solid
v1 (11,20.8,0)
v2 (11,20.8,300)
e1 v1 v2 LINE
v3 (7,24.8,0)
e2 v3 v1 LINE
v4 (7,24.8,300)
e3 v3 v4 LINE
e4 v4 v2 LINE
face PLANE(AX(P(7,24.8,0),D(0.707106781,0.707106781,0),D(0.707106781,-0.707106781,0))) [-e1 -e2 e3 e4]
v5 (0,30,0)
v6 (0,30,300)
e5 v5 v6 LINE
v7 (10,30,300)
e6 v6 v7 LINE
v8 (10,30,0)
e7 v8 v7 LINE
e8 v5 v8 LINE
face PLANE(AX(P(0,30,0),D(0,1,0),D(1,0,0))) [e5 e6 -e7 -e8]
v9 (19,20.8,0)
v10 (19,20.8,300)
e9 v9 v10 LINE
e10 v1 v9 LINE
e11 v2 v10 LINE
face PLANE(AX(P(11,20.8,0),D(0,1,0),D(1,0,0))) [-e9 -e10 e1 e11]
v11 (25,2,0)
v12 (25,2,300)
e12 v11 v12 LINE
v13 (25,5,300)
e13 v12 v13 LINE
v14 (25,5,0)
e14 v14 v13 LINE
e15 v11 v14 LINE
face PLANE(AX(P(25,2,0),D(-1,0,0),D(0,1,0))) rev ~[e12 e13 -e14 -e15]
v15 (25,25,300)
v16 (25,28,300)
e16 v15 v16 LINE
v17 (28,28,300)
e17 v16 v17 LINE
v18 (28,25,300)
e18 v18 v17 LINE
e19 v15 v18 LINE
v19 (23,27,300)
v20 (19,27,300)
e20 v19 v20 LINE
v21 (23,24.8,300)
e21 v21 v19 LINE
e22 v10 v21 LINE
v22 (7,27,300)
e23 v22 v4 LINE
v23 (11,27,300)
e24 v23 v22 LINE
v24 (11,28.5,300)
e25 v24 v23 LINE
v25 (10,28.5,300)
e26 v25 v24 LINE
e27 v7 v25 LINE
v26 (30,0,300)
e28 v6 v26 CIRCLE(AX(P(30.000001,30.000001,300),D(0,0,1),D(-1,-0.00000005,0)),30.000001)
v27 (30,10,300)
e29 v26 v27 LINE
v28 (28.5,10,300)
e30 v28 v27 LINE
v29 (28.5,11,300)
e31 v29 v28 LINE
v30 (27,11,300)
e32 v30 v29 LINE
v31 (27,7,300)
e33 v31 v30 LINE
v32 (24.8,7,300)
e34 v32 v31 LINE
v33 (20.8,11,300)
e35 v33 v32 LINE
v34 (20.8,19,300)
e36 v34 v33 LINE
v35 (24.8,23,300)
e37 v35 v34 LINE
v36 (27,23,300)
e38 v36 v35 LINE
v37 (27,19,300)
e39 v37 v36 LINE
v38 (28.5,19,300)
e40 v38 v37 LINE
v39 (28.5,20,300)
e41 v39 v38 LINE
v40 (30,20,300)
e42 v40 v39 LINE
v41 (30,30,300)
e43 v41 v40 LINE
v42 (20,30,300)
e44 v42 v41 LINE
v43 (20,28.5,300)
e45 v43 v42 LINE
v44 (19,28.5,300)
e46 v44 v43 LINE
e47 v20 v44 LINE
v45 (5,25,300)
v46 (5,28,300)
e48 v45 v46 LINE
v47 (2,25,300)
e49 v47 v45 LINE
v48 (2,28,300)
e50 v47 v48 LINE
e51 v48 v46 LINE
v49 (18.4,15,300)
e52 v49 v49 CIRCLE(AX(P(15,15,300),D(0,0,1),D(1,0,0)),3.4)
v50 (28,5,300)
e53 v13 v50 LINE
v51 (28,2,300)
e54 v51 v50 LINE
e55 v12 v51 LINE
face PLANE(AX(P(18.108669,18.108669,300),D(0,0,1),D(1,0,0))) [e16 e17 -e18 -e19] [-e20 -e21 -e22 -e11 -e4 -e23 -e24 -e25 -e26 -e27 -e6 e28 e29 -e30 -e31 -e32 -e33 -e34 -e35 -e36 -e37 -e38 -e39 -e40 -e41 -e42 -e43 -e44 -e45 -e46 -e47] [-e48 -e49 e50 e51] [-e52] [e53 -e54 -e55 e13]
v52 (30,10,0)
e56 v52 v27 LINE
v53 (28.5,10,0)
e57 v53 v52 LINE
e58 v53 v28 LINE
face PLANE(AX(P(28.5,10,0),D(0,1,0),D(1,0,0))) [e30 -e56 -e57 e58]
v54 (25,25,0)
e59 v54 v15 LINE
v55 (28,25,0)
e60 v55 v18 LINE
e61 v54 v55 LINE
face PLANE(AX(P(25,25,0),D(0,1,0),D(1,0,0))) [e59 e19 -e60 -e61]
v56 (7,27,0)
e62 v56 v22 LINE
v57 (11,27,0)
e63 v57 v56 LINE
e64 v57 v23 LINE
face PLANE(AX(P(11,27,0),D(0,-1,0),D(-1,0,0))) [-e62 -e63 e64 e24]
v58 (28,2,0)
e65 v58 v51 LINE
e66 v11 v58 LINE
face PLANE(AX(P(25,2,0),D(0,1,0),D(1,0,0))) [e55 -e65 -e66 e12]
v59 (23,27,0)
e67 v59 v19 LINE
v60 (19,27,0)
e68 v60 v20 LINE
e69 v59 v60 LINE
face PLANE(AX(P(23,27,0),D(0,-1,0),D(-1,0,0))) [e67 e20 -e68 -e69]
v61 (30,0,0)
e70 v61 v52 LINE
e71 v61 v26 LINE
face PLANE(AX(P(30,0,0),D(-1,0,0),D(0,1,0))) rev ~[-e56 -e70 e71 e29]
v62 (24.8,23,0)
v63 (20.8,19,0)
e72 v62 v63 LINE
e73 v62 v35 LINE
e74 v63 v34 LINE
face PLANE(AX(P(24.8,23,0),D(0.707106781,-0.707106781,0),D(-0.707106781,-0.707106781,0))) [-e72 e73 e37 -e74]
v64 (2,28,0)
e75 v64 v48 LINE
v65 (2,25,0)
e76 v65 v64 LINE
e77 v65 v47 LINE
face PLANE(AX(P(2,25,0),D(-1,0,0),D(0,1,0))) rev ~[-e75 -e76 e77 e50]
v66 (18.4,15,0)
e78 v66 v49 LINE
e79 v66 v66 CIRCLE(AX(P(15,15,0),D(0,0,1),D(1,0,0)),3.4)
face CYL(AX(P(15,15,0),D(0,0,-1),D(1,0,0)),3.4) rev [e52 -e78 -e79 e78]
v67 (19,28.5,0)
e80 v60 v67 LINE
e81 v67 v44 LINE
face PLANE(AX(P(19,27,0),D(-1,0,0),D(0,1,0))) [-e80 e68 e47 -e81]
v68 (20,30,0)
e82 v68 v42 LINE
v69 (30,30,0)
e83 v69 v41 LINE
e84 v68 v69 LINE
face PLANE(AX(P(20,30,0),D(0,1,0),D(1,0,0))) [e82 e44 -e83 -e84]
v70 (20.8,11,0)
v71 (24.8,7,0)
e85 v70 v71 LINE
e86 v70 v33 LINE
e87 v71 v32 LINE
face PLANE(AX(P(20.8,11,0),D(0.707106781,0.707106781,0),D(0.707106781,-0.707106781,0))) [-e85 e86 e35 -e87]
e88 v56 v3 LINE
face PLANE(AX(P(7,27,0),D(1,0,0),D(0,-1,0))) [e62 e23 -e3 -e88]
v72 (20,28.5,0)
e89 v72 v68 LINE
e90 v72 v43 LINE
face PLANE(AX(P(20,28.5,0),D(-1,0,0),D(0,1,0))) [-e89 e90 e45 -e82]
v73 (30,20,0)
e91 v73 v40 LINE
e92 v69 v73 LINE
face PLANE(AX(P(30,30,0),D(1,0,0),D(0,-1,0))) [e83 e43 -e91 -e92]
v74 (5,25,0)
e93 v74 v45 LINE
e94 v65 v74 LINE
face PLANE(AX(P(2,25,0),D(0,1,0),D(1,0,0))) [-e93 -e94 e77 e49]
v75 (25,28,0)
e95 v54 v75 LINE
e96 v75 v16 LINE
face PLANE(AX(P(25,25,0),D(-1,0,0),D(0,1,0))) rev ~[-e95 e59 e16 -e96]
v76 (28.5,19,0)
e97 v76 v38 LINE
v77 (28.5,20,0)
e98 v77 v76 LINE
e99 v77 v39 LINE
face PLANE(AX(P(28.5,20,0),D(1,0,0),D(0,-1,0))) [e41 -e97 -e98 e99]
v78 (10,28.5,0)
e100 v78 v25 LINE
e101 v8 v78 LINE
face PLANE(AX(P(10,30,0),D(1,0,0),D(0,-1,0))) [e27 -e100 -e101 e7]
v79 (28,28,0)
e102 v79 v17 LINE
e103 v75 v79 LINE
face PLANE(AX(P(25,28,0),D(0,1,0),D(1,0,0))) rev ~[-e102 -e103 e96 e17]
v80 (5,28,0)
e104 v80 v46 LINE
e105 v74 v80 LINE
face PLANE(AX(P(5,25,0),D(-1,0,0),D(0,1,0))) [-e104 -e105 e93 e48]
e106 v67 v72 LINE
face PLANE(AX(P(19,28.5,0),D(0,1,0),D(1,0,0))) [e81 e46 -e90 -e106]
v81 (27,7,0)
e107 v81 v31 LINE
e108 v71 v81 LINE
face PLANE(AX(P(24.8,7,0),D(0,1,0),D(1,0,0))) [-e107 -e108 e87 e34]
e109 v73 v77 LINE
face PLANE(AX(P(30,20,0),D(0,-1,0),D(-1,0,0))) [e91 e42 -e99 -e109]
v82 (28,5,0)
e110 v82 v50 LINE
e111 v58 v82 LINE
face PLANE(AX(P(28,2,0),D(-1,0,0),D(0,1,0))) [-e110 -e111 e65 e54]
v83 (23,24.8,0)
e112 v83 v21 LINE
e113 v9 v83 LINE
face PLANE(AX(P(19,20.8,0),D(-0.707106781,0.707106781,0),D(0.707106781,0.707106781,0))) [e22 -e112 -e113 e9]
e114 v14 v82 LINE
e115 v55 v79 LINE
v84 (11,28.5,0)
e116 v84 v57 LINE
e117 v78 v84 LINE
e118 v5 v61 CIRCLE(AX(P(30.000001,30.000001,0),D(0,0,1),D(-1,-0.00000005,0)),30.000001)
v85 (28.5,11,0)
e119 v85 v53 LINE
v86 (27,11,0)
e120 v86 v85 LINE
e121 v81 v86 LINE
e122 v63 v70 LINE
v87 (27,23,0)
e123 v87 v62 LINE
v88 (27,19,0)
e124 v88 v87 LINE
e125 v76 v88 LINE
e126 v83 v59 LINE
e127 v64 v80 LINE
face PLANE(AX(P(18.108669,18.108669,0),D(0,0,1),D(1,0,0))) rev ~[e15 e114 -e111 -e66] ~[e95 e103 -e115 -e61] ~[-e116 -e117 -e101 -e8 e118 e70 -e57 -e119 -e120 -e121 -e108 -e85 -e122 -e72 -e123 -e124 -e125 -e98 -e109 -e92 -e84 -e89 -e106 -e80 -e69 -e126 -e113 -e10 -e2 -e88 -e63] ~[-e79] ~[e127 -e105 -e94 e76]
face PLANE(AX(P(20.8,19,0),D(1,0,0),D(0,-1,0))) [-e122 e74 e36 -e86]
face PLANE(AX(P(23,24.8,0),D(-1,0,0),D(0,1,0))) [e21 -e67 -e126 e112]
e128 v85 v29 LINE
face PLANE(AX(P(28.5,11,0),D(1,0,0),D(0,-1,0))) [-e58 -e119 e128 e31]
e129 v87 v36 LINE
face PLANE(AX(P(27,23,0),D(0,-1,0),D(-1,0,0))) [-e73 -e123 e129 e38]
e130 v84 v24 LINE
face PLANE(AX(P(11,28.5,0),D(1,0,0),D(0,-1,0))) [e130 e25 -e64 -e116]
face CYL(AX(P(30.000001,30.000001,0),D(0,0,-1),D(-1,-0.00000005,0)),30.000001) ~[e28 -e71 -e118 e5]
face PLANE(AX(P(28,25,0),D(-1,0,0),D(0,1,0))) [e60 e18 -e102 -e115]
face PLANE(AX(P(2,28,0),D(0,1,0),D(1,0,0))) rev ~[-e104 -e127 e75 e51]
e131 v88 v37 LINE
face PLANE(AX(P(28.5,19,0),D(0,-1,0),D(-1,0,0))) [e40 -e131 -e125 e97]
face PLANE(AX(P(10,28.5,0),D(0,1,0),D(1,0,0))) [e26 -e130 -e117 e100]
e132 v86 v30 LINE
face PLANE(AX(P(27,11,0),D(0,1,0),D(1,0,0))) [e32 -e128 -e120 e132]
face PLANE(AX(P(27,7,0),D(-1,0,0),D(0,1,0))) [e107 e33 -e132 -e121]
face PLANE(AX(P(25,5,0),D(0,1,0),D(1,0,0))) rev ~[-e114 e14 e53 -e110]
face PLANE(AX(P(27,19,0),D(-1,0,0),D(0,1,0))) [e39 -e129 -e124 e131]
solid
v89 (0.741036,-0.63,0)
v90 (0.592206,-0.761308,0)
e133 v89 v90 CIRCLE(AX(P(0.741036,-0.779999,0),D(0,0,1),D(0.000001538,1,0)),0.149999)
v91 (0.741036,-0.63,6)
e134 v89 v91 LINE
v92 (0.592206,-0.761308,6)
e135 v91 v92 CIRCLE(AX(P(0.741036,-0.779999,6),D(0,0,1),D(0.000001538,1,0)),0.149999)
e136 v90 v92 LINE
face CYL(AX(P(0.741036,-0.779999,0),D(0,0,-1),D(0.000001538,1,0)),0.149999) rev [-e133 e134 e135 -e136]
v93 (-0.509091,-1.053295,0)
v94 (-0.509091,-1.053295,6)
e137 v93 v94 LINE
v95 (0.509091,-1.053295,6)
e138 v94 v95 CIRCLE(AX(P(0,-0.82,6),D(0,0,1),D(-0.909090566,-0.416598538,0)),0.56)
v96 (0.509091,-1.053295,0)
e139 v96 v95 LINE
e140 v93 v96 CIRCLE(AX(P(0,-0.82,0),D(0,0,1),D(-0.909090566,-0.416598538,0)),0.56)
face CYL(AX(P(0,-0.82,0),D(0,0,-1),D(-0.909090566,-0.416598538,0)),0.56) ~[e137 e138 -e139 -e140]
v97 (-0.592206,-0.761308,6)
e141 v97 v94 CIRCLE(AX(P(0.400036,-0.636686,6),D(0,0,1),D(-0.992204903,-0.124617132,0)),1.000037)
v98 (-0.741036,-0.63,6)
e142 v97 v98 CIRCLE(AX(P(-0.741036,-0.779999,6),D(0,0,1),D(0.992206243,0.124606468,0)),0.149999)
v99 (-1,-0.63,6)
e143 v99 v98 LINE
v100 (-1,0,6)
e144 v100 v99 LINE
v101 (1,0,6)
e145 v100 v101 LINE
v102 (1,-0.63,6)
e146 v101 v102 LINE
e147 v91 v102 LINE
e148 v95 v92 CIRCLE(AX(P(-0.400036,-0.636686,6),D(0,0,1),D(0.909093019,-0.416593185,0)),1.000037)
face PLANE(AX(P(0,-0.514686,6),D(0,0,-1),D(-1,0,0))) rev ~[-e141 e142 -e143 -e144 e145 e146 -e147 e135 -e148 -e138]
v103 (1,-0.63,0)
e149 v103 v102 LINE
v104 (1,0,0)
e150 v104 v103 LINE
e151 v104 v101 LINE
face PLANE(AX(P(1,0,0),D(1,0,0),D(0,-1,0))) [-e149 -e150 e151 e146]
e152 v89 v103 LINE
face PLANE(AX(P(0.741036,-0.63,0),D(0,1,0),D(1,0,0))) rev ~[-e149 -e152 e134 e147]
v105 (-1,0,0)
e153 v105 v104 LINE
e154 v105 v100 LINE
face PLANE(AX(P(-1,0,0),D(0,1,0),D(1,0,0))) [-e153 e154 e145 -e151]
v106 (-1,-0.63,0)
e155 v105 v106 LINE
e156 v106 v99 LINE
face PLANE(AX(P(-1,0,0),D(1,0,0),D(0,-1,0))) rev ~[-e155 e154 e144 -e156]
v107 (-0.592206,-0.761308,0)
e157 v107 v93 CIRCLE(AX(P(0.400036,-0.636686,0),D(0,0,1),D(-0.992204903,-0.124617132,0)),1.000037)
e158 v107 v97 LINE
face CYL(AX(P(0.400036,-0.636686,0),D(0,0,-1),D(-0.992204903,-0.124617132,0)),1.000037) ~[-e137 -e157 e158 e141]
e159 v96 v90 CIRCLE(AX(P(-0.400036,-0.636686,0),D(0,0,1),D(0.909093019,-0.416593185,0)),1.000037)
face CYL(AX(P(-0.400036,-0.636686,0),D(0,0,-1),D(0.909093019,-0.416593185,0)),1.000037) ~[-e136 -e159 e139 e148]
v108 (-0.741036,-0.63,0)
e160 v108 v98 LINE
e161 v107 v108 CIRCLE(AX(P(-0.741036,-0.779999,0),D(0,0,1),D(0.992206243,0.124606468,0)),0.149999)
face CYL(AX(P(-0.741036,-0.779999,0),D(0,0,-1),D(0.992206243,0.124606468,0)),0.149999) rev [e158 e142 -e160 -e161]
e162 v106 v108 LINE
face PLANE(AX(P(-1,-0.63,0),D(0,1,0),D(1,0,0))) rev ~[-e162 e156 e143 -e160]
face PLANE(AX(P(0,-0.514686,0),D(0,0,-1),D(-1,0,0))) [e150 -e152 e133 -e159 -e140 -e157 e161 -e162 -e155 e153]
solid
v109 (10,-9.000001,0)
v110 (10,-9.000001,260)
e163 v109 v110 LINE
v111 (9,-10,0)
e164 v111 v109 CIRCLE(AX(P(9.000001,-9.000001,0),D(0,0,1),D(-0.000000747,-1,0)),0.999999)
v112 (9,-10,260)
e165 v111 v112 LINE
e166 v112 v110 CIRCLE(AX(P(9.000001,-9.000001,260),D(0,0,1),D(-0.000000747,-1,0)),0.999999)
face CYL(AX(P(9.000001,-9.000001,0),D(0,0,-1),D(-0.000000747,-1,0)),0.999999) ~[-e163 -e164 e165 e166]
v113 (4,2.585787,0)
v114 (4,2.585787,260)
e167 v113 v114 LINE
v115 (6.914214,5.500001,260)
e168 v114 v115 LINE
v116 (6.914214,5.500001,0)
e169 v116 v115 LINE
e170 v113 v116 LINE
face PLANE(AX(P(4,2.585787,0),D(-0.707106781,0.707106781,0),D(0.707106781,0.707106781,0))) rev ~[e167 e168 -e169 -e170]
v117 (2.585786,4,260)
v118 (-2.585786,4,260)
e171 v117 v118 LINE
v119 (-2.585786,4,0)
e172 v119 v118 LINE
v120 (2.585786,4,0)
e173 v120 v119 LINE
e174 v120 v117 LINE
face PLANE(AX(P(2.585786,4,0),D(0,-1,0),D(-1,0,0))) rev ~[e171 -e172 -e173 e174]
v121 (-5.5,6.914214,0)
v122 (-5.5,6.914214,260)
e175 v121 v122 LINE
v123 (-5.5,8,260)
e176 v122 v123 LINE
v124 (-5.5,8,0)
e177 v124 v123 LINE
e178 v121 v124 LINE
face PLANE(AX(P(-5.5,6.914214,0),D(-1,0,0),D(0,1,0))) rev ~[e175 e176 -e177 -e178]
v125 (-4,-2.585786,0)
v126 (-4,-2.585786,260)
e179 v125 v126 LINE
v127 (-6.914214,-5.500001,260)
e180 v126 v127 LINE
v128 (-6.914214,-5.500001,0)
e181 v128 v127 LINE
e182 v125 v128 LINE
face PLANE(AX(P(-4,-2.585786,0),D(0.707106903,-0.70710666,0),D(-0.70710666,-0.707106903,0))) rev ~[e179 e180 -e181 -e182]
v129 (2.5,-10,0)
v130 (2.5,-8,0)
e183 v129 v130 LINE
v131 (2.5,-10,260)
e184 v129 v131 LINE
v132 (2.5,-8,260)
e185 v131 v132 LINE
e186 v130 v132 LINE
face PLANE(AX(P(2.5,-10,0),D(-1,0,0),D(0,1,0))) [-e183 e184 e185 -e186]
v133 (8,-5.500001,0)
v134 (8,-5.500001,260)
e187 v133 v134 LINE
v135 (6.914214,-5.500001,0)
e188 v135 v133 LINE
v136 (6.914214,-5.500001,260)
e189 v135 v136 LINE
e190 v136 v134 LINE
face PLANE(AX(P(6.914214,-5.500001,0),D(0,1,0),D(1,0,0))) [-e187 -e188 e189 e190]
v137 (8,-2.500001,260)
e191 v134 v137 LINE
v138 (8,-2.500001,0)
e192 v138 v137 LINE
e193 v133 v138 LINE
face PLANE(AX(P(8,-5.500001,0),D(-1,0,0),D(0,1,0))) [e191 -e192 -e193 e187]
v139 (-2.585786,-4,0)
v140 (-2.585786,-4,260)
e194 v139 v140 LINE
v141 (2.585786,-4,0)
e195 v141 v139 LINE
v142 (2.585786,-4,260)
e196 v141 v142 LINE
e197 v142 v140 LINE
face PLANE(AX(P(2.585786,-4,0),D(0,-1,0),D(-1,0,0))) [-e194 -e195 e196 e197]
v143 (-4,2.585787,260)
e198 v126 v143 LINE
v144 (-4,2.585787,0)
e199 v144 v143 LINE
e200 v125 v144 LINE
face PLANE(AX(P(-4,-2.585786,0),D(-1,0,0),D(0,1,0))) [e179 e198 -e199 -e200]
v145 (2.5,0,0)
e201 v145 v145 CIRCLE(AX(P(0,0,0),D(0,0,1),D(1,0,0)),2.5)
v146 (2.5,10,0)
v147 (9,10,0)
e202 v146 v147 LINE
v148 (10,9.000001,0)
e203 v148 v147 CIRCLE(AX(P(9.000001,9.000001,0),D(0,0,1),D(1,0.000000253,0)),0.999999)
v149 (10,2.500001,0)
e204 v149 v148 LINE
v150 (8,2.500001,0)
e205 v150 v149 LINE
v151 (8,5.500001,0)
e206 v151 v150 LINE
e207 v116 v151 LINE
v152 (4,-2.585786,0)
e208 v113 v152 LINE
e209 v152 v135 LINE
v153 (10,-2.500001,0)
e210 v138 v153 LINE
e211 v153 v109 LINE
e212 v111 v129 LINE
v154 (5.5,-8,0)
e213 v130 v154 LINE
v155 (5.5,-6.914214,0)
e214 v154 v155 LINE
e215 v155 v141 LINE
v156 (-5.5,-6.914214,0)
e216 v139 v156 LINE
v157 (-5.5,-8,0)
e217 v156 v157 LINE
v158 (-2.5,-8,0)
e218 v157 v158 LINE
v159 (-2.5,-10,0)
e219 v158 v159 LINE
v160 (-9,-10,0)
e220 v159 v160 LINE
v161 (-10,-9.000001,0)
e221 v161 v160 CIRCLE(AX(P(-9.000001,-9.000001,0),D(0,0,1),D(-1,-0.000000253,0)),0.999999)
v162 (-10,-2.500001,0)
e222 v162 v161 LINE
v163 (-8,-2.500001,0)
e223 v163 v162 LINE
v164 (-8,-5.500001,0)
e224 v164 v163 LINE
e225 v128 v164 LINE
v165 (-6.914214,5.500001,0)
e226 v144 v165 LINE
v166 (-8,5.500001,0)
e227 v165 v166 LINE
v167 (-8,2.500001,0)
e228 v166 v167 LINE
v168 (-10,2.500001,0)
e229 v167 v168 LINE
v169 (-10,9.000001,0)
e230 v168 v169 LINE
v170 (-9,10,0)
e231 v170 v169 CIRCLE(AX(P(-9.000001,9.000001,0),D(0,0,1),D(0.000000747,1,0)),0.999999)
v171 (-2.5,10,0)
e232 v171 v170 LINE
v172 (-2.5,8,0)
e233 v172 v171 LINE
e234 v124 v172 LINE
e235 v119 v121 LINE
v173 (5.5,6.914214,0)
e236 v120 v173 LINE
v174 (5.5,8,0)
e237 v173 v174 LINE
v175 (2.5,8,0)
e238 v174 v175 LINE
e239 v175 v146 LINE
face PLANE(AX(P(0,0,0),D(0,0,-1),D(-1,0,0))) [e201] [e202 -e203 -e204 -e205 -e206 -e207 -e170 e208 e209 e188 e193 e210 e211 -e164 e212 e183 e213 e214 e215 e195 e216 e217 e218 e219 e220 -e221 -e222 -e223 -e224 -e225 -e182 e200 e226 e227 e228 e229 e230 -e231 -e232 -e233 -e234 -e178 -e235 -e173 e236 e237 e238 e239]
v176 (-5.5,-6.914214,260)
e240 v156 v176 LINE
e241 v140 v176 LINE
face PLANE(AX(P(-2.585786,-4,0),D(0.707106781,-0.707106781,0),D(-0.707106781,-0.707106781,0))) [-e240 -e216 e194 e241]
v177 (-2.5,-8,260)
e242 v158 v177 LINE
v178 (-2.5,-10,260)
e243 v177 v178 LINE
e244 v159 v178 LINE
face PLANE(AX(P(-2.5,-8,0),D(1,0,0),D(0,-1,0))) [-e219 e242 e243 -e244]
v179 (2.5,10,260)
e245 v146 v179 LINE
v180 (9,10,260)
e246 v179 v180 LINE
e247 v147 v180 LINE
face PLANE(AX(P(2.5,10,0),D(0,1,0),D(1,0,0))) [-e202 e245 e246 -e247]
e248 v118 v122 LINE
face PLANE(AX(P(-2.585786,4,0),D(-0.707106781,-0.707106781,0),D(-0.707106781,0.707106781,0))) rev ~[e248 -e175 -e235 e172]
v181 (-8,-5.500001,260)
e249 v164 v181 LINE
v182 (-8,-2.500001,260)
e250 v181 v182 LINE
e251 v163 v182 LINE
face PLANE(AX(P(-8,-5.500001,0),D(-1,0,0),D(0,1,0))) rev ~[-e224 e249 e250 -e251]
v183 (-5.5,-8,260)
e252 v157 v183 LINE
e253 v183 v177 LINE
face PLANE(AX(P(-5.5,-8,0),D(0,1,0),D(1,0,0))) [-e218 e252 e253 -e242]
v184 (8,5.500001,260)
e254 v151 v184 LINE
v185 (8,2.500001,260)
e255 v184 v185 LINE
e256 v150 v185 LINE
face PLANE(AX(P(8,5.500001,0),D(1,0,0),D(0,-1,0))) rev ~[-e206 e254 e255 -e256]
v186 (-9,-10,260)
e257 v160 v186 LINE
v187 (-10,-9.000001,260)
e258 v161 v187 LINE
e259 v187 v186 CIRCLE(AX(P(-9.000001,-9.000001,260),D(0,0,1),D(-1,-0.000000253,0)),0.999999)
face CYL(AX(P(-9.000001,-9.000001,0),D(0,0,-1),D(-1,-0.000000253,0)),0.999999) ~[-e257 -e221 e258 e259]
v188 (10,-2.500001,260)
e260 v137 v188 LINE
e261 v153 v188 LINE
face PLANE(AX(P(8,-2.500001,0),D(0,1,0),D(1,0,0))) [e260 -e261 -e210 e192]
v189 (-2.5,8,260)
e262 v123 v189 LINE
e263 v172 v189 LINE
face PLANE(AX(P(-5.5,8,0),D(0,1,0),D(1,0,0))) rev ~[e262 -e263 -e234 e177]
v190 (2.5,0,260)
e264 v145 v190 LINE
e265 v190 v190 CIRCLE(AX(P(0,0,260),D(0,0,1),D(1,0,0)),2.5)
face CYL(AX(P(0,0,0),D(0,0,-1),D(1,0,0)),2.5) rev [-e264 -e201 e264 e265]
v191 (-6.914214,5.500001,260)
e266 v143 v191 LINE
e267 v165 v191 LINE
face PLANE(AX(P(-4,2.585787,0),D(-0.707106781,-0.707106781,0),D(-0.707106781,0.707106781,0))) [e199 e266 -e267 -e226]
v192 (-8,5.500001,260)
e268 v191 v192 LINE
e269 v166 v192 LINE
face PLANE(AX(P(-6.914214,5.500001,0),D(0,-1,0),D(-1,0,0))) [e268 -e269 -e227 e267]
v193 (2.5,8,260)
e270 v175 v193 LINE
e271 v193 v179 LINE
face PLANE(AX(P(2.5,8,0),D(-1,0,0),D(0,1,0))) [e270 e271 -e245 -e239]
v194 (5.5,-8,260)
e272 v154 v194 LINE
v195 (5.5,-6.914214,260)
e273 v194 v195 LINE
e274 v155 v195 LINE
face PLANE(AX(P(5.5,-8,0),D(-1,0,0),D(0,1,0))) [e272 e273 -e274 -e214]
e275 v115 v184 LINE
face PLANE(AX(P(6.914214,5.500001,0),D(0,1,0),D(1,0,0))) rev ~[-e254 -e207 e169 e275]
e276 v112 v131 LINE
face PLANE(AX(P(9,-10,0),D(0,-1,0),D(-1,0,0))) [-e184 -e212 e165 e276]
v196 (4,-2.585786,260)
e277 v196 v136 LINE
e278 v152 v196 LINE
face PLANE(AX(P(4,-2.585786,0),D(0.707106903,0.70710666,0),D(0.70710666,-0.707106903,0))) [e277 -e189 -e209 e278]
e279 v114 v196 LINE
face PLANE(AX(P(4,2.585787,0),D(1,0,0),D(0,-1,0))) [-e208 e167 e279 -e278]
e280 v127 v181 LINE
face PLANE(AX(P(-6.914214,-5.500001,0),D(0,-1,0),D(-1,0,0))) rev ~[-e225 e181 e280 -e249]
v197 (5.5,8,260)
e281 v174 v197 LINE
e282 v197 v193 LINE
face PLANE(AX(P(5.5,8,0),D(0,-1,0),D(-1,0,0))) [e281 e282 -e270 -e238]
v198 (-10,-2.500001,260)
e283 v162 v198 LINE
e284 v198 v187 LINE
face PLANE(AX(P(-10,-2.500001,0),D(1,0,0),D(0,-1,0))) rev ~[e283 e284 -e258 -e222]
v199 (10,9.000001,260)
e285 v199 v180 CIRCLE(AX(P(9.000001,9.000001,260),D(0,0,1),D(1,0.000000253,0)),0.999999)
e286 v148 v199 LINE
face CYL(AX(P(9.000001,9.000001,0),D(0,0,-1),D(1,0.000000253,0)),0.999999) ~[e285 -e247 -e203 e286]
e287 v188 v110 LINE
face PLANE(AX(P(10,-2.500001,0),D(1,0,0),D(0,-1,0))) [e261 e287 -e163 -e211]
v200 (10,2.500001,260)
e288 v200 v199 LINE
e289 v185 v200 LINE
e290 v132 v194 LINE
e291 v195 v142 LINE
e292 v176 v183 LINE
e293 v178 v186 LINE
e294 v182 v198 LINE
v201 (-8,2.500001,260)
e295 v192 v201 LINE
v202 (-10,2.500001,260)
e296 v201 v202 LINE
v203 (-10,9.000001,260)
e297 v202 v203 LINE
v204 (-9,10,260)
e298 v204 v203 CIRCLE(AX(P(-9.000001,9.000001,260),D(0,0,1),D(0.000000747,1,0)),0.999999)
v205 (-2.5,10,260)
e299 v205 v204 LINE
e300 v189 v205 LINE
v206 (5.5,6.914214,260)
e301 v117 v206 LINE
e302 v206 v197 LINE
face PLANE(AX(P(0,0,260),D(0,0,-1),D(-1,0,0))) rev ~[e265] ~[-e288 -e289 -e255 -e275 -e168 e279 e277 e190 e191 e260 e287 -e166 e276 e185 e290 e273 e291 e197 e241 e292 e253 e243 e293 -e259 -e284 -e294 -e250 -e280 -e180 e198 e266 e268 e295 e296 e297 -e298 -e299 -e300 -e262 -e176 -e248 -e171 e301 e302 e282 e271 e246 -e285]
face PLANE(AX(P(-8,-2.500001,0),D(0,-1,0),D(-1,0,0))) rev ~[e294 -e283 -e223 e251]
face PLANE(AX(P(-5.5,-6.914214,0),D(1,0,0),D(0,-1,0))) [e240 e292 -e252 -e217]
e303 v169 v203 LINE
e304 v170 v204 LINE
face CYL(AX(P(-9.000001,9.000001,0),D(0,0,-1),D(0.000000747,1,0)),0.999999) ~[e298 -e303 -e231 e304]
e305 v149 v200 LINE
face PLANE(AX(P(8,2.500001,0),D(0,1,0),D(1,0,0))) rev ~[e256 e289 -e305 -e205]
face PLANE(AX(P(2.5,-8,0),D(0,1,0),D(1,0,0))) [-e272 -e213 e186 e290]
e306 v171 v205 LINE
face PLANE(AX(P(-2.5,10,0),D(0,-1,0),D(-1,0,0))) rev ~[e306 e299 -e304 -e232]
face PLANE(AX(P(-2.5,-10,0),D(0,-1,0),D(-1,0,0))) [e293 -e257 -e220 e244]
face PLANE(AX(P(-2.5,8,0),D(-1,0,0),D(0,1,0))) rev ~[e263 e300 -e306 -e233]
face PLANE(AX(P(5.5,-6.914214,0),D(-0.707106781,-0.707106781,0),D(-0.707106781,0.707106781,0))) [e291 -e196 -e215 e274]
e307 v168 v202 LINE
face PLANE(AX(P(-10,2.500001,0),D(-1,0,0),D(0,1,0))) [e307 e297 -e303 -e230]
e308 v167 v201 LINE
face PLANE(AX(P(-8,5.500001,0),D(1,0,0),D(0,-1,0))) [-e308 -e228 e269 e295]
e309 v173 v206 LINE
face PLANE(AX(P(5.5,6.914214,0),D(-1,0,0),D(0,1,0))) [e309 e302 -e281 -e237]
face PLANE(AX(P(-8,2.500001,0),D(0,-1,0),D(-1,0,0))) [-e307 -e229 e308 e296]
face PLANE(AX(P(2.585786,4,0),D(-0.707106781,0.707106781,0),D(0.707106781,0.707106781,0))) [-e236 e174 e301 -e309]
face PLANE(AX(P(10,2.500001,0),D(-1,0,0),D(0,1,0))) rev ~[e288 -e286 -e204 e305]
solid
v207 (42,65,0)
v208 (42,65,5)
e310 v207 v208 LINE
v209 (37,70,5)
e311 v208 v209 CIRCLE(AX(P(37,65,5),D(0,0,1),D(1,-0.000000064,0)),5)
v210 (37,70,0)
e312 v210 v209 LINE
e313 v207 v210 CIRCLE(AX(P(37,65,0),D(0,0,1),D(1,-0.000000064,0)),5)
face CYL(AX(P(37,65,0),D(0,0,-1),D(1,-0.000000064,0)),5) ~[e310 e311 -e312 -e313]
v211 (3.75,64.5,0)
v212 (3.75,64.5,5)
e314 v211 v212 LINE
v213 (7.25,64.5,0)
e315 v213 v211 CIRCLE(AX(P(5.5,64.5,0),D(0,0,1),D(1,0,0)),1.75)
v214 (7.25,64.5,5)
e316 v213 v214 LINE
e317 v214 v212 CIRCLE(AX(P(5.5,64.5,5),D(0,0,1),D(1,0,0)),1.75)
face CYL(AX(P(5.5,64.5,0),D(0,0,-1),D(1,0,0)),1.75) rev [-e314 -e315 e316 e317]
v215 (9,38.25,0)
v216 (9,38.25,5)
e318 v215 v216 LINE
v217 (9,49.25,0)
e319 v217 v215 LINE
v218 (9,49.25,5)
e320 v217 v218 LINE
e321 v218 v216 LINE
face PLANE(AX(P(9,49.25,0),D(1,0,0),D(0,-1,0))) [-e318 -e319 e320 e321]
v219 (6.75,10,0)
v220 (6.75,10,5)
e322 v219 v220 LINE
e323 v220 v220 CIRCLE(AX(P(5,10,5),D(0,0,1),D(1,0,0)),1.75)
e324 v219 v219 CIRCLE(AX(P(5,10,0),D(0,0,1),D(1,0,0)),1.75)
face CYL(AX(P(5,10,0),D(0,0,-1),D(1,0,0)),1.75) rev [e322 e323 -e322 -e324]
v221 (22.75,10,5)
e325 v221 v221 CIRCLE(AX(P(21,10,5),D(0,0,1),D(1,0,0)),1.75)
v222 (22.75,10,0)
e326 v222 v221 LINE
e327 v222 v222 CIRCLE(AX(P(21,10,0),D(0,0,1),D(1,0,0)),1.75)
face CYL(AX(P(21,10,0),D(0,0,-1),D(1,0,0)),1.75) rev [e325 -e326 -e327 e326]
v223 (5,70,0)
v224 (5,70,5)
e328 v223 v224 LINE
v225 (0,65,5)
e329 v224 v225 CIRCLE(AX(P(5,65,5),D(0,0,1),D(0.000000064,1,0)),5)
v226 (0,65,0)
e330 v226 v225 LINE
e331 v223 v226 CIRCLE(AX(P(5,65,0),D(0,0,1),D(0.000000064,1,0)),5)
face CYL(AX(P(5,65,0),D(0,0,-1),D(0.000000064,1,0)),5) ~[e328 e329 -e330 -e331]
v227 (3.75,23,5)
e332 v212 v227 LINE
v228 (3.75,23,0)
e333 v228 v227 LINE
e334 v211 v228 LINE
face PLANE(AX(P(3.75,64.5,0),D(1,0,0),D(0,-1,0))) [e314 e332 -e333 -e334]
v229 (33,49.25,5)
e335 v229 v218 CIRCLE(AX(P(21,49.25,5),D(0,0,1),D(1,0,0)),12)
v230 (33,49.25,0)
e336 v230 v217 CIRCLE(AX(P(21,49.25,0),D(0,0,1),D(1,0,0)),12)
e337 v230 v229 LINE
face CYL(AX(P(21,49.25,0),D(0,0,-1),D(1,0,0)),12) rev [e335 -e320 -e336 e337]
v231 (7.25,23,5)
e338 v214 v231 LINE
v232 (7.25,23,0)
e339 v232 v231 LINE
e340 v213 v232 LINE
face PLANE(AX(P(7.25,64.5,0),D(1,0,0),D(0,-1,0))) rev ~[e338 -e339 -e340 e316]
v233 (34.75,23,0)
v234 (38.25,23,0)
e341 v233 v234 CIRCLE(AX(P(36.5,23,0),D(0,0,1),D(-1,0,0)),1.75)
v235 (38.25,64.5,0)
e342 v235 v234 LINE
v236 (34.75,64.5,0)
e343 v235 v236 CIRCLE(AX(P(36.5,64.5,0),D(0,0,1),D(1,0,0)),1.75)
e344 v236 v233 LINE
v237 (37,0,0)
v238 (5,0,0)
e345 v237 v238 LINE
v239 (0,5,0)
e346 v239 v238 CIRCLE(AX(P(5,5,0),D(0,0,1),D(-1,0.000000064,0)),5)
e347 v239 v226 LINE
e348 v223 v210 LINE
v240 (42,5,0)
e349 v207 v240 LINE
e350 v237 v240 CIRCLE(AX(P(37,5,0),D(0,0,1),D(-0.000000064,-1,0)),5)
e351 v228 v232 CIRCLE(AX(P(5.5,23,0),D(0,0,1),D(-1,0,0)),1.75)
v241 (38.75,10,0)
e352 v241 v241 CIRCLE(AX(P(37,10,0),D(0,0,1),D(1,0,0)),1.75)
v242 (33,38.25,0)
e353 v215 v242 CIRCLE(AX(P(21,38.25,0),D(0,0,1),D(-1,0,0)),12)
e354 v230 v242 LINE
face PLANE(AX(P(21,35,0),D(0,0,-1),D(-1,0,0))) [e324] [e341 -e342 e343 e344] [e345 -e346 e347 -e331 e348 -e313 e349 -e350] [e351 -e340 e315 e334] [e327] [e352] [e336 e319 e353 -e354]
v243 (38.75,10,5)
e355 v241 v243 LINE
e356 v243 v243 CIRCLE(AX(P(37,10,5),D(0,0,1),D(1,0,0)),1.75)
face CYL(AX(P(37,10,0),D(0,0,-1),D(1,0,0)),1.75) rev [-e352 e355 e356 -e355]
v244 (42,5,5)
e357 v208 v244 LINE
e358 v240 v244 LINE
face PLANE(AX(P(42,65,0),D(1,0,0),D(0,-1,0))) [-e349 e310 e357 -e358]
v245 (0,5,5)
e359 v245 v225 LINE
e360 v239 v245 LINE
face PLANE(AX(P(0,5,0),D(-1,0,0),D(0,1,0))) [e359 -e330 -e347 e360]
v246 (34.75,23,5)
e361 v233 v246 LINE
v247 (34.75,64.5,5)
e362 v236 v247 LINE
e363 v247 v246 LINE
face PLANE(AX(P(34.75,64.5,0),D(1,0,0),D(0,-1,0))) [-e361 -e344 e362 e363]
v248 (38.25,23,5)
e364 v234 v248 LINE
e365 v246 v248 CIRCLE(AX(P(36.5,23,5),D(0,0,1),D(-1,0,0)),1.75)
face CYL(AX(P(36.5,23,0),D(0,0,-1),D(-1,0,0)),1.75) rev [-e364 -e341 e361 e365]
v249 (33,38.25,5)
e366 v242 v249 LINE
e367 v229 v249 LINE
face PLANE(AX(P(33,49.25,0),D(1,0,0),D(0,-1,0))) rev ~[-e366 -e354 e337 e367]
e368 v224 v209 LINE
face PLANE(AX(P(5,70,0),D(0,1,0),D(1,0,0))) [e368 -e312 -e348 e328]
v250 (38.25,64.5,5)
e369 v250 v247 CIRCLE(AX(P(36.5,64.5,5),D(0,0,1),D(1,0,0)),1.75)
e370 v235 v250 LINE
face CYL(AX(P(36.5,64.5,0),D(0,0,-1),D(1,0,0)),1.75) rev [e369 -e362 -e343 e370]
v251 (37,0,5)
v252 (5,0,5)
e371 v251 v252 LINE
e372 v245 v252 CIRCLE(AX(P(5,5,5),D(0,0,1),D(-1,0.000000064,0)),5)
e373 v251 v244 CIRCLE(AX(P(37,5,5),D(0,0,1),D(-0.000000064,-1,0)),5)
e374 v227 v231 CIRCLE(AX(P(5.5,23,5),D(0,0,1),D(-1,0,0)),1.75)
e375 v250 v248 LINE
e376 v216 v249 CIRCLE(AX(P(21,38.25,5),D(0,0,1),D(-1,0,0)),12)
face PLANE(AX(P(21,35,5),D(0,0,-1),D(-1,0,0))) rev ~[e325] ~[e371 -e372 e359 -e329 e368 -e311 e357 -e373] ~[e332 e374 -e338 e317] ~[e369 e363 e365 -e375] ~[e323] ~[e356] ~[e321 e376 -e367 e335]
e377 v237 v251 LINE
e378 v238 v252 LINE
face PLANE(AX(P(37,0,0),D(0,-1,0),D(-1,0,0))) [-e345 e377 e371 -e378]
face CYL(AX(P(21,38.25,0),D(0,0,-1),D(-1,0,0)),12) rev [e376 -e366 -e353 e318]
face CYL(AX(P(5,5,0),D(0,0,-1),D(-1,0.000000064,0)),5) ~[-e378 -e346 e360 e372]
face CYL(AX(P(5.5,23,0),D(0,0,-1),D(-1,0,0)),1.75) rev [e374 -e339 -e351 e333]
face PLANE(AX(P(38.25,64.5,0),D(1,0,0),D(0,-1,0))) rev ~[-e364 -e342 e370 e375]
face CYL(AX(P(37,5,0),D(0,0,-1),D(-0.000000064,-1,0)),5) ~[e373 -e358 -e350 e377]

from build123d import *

# Parameters (mm, degrees)
SKETCH_R     = 1.75
PAD_DEPTH    = 5
SKETCH003_R  = 3.4
SKETCH003_W  = 3
SKETCH003_H  = 3
PAD001_DEPTH = 300
PAD002_DEPTH = 6
SKETCH005_R  = 2.5
PAD003_DEPTH = 260


with BuildPart() as nemamount:
    # Sketch → Pad (new body)
    with BuildSketch(Plane.XY):
        with BuildLine():
            Line((5, 70), (37, 70))
            ThreePointArc((42, 65), (40.535534, 68.535534), (37, 70))
            Line((42, 65), (42, 5))
            ThreePointArc((37, 0), (40.535534, 1.464466), (42, 5))
            Line((37, 0), (5, 0))
            ThreePointArc((0, 5), (1.464466, 1.464466), (5, 0))
            Line((0, 5), (0, 65))
            ThreePointArc((5, 70), (1.464466, 68.535534), (0, 65))
        make_face()
        with Locations((5, 10)):
            Circle(SKETCH_R, mode=Mode.SUBTRACT)
        with Locations((37, 10)):
            Circle(SKETCH_R, mode=Mode.SUBTRACT)
        with Locations((21, 10)):
            Circle(SKETCH_R, mode=Mode.SUBTRACT)
        with BuildLine():
            ThreePointArc((7.25, 64.5), (5.5, 66.25), (3.75, 64.5))
            Line((3.75, 64.5), (3.75, 23))
            ThreePointArc((3.75, 23), (5.5, 21.25), (7.25, 23))
            Line((7.25, 64.5), (7.25, 23))
        make_face(mode=Mode.SUBTRACT)
        with BuildLine():
            ThreePointArc((38.25, 64.5), (36.5, 66.25), (34.75, 64.5))
            Line((34.75, 64.5), (34.75, 23))
            ThreePointArc((34.75, 23), (36.5, 21.25), (38.25, 23))
            Line((38.25, 64.5), (38.25, 23))
        make_face(mode=Mode.SUBTRACT)
        with BuildLine():
            ThreePointArc((33, 49.25), (21, 61.25), (9, 49.25))
            Line((9, 49.25), (9, 38.25))
            ThreePointArc((9, 38.25), (21, 26.25), (33, 38.25))
            Line((33, 49.25), (33, 38.25))
        make_face(mode=Mode.SUBTRACT)
    extrude(amount=PAD_DEPTH)


with BuildPart() as profile3030r:
    # Sketch003 → Pad001 (new body)
    with BuildSketch(Plane.XY):
        with BuildLine():
            ThreePointArc((0, 30), (8.786797, 8.786797), (30, 0))
            Line((30, 0), (30, 10))
            Line((28.5, 10), (30, 10))
            Line((28.5, 11), (28.5, 10))
            Line((27, 11), (28.5, 11))
            Line((27, 7), (27, 11))
            Line((24.8, 7), (27, 7))
            Line((20.8, 11), (24.8, 7))
            Line((20.8, 19), (20.8, 11))
            Line((24.8, 23), (20.8, 19))
            Line((27, 23), (24.8, 23))
            Line((27, 19), (27, 23))
            Line((28.5, 19), (27, 19))
            Line((28.5, 20), (28.5, 19))
            Line((30, 20), (28.5, 20))
            Line((30, 30), (30, 20))
            Line((20, 30), (30, 30))
            Line((20, 28.5), (20, 30))
            Line((19, 28.5), (20, 28.5))
            Line((19, 27), (19, 28.5))
            Line((23, 27), (19, 27))
            Line((23, 24.8), (23, 27))
            Line((19, 20.8), (23, 24.8))
            Line((11, 20.8), (19, 20.8))
            Line((7, 24.8), (11, 20.8))
            Line((7, 27), (7, 24.8))
            Line((11, 27), (7, 27))
            Line((11, 28.5), (11, 27))
            Line((10, 28.5), (11, 28.5))
            Line((10, 30), (10, 28.5))
            Line((0, 30), (10, 30))
        make_face()
        with Locations((15, 15)):
            Circle(SKETCH003_R, mode=Mode.SUBTRACT)
        with Locations((3.5, 26.5)):
            Rectangle(SKETCH003_W, SKETCH003_H, mode=Mode.SUBTRACT)
        with Locations((26.5, 26.5)):
            Rectangle(SKETCH003_W, SKETCH003_H, mode=Mode.SUBTRACT)
        with Locations((26.5, 3.5)):
            Rectangle(SKETCH003_W, SKETCH003_H, mode=Mode.SUBTRACT)
    extrude(amount=PAD001_DEPTH)


with BuildPart() as gt2belt:
    # Sketch004 → Pad002 (new body)
    with BuildSketch(Plane.XY):
        with BuildLine():
            Line((-1, 0), (0, 0))
            Line((0, 0), (1, 0))
            Line((1, 0), (1, -0.63))
            Line((0.741036, -0.63), (1, -0.63))
            ThreePointArc((0.741036, -0.63), (0.641799, -0.667519), (0.592206, -0.761308))
            ThreePointArc((0.509091, -1.053295), (0.561793, -0.910474), (0.592206, -0.761308))
            ThreePointArc((-0.509091, -1.053295), (0, -1.38), (0.509091, -1.053295))
            ThreePointArc((-0.592206, -0.761308), (-0.561793, -0.910474), (-0.509091, -1.053295))
            ThreePointArc((-0.592206, -0.761308), (-0.641799, -0.667519), (-0.741036, -0.63))
            Line((-1, -0.63), (-0.741036, -0.63))
            Line((-1, 0), (-1, -0.63))
        make_face()
    extrude(amount=PAD002_DEPTH)


with BuildPart() as profile2020:
    # Sketch005 → Pad003 (new body)
    with BuildSketch(Plane.XY):
        with BuildLine():
            Line((-4, -2.585786), (-4, 2.585787))
            Line((-4, 2.585787), (-6.914214, 5.500001))
            Line((-6.914214, 5.500001), (-8, 5.500001))
            Line((-8, 5.500001), (-8, 2.500001))
            Line((-8, 2.500001), (-10, 2.500001))
            Line((-10, 2.500001), (-10, 9.000001))
            ThreePointArc((-9, 10), (-9.707107, 9.707107), (-10, 9.000001))
            Line((-2.5, 10), (-9, 10))
            Line((-2.5, 8), (-2.5, 10))
            Line((-5.5, 8), (-2.5, 8))
            Line((-5.5, 6.914214), (-5.5, 8))
            Line((-2.585786, 4), (-5.5, 6.914214))
            Line((2.585786, 4), (-2.585786, 4))
            Line((2.585786, 4), (5.5, 6.914214))
            Line((5.5, 6.914214), (5.5, 8))
            Line((5.5, 8), (2.5, 8))
            Line((2.5, 8), (2.5, 10))
            Line((2.5, 10), (9, 10))
            ThreePointArc((10, 9.000001), (9.707107, 9.707107), (9, 10))
            Line((10, 2.500001), (10, 9.000001))
            Line((8, 2.500001), (10, 2.500001))
            Line((8, 5.500001), (8, 2.500001))
            Line((6.914214, 5.500001), (8, 5.500001))
            Line((4, 2.585787), (6.914214, 5.500001))
            Line((4, 2.585787), (4, -2.585786))
            Line((4, -2.585786), (6.914214, -5.500001))
            Line((6.914214, -5.500001), (8, -5.500001))
            Line((8, -5.500001), (8, -2.500001))
            Line((8, -2.500001), (10, -2.500001))
            Line((10, -2.500001), (10, -9.000001))
            ThreePointArc((9, -10), (9.707107, -9.707107), (10, -9.000001))
            Line((9, -10), (2.5, -10))
            Line((2.5, -10), (2.5, -8))
            Line((2.5, -8), (5.5, -8))
            Line((5.5, -8), (5.5, -6.914214))
            Line((5.5, -6.914214), (2.585786, -4))
            Line((2.585786, -4), (-2.585786, -4))
            Line((-2.585786, -4), (-5.5, -6.914214))
            Line((-5.5, -6.914214), (-5.5, -8))
            Line((-5.5, -8), (-2.5, -8))
            Line((-2.5, -8), (-2.5, -10))
            Line((-2.5, -10), (-9, -10))
            ThreePointArc((-10, -9.000001), (-9.707107, -9.707107), (-9, -10))
            Line((-10, -2.500001), (-10, -9.000001))
            Line((-8, -2.500001), (-10, -2.500001))
            Line((-8, -5.500001), (-8, -2.500001))
            Line((-6.914214, -5.500001), (-8, -5.500001))
            Line((-4, -2.585786), (-6.914214, -5.500001))
        make_face()
        Circle(SKETCH005_R, mode=Mode.SUBTRACT)
    extrude(amount=PAD003_DEPTH)


solid = Compound([nemamount.part, profile3030r.part, gt2belt.part, profile2020.part])
